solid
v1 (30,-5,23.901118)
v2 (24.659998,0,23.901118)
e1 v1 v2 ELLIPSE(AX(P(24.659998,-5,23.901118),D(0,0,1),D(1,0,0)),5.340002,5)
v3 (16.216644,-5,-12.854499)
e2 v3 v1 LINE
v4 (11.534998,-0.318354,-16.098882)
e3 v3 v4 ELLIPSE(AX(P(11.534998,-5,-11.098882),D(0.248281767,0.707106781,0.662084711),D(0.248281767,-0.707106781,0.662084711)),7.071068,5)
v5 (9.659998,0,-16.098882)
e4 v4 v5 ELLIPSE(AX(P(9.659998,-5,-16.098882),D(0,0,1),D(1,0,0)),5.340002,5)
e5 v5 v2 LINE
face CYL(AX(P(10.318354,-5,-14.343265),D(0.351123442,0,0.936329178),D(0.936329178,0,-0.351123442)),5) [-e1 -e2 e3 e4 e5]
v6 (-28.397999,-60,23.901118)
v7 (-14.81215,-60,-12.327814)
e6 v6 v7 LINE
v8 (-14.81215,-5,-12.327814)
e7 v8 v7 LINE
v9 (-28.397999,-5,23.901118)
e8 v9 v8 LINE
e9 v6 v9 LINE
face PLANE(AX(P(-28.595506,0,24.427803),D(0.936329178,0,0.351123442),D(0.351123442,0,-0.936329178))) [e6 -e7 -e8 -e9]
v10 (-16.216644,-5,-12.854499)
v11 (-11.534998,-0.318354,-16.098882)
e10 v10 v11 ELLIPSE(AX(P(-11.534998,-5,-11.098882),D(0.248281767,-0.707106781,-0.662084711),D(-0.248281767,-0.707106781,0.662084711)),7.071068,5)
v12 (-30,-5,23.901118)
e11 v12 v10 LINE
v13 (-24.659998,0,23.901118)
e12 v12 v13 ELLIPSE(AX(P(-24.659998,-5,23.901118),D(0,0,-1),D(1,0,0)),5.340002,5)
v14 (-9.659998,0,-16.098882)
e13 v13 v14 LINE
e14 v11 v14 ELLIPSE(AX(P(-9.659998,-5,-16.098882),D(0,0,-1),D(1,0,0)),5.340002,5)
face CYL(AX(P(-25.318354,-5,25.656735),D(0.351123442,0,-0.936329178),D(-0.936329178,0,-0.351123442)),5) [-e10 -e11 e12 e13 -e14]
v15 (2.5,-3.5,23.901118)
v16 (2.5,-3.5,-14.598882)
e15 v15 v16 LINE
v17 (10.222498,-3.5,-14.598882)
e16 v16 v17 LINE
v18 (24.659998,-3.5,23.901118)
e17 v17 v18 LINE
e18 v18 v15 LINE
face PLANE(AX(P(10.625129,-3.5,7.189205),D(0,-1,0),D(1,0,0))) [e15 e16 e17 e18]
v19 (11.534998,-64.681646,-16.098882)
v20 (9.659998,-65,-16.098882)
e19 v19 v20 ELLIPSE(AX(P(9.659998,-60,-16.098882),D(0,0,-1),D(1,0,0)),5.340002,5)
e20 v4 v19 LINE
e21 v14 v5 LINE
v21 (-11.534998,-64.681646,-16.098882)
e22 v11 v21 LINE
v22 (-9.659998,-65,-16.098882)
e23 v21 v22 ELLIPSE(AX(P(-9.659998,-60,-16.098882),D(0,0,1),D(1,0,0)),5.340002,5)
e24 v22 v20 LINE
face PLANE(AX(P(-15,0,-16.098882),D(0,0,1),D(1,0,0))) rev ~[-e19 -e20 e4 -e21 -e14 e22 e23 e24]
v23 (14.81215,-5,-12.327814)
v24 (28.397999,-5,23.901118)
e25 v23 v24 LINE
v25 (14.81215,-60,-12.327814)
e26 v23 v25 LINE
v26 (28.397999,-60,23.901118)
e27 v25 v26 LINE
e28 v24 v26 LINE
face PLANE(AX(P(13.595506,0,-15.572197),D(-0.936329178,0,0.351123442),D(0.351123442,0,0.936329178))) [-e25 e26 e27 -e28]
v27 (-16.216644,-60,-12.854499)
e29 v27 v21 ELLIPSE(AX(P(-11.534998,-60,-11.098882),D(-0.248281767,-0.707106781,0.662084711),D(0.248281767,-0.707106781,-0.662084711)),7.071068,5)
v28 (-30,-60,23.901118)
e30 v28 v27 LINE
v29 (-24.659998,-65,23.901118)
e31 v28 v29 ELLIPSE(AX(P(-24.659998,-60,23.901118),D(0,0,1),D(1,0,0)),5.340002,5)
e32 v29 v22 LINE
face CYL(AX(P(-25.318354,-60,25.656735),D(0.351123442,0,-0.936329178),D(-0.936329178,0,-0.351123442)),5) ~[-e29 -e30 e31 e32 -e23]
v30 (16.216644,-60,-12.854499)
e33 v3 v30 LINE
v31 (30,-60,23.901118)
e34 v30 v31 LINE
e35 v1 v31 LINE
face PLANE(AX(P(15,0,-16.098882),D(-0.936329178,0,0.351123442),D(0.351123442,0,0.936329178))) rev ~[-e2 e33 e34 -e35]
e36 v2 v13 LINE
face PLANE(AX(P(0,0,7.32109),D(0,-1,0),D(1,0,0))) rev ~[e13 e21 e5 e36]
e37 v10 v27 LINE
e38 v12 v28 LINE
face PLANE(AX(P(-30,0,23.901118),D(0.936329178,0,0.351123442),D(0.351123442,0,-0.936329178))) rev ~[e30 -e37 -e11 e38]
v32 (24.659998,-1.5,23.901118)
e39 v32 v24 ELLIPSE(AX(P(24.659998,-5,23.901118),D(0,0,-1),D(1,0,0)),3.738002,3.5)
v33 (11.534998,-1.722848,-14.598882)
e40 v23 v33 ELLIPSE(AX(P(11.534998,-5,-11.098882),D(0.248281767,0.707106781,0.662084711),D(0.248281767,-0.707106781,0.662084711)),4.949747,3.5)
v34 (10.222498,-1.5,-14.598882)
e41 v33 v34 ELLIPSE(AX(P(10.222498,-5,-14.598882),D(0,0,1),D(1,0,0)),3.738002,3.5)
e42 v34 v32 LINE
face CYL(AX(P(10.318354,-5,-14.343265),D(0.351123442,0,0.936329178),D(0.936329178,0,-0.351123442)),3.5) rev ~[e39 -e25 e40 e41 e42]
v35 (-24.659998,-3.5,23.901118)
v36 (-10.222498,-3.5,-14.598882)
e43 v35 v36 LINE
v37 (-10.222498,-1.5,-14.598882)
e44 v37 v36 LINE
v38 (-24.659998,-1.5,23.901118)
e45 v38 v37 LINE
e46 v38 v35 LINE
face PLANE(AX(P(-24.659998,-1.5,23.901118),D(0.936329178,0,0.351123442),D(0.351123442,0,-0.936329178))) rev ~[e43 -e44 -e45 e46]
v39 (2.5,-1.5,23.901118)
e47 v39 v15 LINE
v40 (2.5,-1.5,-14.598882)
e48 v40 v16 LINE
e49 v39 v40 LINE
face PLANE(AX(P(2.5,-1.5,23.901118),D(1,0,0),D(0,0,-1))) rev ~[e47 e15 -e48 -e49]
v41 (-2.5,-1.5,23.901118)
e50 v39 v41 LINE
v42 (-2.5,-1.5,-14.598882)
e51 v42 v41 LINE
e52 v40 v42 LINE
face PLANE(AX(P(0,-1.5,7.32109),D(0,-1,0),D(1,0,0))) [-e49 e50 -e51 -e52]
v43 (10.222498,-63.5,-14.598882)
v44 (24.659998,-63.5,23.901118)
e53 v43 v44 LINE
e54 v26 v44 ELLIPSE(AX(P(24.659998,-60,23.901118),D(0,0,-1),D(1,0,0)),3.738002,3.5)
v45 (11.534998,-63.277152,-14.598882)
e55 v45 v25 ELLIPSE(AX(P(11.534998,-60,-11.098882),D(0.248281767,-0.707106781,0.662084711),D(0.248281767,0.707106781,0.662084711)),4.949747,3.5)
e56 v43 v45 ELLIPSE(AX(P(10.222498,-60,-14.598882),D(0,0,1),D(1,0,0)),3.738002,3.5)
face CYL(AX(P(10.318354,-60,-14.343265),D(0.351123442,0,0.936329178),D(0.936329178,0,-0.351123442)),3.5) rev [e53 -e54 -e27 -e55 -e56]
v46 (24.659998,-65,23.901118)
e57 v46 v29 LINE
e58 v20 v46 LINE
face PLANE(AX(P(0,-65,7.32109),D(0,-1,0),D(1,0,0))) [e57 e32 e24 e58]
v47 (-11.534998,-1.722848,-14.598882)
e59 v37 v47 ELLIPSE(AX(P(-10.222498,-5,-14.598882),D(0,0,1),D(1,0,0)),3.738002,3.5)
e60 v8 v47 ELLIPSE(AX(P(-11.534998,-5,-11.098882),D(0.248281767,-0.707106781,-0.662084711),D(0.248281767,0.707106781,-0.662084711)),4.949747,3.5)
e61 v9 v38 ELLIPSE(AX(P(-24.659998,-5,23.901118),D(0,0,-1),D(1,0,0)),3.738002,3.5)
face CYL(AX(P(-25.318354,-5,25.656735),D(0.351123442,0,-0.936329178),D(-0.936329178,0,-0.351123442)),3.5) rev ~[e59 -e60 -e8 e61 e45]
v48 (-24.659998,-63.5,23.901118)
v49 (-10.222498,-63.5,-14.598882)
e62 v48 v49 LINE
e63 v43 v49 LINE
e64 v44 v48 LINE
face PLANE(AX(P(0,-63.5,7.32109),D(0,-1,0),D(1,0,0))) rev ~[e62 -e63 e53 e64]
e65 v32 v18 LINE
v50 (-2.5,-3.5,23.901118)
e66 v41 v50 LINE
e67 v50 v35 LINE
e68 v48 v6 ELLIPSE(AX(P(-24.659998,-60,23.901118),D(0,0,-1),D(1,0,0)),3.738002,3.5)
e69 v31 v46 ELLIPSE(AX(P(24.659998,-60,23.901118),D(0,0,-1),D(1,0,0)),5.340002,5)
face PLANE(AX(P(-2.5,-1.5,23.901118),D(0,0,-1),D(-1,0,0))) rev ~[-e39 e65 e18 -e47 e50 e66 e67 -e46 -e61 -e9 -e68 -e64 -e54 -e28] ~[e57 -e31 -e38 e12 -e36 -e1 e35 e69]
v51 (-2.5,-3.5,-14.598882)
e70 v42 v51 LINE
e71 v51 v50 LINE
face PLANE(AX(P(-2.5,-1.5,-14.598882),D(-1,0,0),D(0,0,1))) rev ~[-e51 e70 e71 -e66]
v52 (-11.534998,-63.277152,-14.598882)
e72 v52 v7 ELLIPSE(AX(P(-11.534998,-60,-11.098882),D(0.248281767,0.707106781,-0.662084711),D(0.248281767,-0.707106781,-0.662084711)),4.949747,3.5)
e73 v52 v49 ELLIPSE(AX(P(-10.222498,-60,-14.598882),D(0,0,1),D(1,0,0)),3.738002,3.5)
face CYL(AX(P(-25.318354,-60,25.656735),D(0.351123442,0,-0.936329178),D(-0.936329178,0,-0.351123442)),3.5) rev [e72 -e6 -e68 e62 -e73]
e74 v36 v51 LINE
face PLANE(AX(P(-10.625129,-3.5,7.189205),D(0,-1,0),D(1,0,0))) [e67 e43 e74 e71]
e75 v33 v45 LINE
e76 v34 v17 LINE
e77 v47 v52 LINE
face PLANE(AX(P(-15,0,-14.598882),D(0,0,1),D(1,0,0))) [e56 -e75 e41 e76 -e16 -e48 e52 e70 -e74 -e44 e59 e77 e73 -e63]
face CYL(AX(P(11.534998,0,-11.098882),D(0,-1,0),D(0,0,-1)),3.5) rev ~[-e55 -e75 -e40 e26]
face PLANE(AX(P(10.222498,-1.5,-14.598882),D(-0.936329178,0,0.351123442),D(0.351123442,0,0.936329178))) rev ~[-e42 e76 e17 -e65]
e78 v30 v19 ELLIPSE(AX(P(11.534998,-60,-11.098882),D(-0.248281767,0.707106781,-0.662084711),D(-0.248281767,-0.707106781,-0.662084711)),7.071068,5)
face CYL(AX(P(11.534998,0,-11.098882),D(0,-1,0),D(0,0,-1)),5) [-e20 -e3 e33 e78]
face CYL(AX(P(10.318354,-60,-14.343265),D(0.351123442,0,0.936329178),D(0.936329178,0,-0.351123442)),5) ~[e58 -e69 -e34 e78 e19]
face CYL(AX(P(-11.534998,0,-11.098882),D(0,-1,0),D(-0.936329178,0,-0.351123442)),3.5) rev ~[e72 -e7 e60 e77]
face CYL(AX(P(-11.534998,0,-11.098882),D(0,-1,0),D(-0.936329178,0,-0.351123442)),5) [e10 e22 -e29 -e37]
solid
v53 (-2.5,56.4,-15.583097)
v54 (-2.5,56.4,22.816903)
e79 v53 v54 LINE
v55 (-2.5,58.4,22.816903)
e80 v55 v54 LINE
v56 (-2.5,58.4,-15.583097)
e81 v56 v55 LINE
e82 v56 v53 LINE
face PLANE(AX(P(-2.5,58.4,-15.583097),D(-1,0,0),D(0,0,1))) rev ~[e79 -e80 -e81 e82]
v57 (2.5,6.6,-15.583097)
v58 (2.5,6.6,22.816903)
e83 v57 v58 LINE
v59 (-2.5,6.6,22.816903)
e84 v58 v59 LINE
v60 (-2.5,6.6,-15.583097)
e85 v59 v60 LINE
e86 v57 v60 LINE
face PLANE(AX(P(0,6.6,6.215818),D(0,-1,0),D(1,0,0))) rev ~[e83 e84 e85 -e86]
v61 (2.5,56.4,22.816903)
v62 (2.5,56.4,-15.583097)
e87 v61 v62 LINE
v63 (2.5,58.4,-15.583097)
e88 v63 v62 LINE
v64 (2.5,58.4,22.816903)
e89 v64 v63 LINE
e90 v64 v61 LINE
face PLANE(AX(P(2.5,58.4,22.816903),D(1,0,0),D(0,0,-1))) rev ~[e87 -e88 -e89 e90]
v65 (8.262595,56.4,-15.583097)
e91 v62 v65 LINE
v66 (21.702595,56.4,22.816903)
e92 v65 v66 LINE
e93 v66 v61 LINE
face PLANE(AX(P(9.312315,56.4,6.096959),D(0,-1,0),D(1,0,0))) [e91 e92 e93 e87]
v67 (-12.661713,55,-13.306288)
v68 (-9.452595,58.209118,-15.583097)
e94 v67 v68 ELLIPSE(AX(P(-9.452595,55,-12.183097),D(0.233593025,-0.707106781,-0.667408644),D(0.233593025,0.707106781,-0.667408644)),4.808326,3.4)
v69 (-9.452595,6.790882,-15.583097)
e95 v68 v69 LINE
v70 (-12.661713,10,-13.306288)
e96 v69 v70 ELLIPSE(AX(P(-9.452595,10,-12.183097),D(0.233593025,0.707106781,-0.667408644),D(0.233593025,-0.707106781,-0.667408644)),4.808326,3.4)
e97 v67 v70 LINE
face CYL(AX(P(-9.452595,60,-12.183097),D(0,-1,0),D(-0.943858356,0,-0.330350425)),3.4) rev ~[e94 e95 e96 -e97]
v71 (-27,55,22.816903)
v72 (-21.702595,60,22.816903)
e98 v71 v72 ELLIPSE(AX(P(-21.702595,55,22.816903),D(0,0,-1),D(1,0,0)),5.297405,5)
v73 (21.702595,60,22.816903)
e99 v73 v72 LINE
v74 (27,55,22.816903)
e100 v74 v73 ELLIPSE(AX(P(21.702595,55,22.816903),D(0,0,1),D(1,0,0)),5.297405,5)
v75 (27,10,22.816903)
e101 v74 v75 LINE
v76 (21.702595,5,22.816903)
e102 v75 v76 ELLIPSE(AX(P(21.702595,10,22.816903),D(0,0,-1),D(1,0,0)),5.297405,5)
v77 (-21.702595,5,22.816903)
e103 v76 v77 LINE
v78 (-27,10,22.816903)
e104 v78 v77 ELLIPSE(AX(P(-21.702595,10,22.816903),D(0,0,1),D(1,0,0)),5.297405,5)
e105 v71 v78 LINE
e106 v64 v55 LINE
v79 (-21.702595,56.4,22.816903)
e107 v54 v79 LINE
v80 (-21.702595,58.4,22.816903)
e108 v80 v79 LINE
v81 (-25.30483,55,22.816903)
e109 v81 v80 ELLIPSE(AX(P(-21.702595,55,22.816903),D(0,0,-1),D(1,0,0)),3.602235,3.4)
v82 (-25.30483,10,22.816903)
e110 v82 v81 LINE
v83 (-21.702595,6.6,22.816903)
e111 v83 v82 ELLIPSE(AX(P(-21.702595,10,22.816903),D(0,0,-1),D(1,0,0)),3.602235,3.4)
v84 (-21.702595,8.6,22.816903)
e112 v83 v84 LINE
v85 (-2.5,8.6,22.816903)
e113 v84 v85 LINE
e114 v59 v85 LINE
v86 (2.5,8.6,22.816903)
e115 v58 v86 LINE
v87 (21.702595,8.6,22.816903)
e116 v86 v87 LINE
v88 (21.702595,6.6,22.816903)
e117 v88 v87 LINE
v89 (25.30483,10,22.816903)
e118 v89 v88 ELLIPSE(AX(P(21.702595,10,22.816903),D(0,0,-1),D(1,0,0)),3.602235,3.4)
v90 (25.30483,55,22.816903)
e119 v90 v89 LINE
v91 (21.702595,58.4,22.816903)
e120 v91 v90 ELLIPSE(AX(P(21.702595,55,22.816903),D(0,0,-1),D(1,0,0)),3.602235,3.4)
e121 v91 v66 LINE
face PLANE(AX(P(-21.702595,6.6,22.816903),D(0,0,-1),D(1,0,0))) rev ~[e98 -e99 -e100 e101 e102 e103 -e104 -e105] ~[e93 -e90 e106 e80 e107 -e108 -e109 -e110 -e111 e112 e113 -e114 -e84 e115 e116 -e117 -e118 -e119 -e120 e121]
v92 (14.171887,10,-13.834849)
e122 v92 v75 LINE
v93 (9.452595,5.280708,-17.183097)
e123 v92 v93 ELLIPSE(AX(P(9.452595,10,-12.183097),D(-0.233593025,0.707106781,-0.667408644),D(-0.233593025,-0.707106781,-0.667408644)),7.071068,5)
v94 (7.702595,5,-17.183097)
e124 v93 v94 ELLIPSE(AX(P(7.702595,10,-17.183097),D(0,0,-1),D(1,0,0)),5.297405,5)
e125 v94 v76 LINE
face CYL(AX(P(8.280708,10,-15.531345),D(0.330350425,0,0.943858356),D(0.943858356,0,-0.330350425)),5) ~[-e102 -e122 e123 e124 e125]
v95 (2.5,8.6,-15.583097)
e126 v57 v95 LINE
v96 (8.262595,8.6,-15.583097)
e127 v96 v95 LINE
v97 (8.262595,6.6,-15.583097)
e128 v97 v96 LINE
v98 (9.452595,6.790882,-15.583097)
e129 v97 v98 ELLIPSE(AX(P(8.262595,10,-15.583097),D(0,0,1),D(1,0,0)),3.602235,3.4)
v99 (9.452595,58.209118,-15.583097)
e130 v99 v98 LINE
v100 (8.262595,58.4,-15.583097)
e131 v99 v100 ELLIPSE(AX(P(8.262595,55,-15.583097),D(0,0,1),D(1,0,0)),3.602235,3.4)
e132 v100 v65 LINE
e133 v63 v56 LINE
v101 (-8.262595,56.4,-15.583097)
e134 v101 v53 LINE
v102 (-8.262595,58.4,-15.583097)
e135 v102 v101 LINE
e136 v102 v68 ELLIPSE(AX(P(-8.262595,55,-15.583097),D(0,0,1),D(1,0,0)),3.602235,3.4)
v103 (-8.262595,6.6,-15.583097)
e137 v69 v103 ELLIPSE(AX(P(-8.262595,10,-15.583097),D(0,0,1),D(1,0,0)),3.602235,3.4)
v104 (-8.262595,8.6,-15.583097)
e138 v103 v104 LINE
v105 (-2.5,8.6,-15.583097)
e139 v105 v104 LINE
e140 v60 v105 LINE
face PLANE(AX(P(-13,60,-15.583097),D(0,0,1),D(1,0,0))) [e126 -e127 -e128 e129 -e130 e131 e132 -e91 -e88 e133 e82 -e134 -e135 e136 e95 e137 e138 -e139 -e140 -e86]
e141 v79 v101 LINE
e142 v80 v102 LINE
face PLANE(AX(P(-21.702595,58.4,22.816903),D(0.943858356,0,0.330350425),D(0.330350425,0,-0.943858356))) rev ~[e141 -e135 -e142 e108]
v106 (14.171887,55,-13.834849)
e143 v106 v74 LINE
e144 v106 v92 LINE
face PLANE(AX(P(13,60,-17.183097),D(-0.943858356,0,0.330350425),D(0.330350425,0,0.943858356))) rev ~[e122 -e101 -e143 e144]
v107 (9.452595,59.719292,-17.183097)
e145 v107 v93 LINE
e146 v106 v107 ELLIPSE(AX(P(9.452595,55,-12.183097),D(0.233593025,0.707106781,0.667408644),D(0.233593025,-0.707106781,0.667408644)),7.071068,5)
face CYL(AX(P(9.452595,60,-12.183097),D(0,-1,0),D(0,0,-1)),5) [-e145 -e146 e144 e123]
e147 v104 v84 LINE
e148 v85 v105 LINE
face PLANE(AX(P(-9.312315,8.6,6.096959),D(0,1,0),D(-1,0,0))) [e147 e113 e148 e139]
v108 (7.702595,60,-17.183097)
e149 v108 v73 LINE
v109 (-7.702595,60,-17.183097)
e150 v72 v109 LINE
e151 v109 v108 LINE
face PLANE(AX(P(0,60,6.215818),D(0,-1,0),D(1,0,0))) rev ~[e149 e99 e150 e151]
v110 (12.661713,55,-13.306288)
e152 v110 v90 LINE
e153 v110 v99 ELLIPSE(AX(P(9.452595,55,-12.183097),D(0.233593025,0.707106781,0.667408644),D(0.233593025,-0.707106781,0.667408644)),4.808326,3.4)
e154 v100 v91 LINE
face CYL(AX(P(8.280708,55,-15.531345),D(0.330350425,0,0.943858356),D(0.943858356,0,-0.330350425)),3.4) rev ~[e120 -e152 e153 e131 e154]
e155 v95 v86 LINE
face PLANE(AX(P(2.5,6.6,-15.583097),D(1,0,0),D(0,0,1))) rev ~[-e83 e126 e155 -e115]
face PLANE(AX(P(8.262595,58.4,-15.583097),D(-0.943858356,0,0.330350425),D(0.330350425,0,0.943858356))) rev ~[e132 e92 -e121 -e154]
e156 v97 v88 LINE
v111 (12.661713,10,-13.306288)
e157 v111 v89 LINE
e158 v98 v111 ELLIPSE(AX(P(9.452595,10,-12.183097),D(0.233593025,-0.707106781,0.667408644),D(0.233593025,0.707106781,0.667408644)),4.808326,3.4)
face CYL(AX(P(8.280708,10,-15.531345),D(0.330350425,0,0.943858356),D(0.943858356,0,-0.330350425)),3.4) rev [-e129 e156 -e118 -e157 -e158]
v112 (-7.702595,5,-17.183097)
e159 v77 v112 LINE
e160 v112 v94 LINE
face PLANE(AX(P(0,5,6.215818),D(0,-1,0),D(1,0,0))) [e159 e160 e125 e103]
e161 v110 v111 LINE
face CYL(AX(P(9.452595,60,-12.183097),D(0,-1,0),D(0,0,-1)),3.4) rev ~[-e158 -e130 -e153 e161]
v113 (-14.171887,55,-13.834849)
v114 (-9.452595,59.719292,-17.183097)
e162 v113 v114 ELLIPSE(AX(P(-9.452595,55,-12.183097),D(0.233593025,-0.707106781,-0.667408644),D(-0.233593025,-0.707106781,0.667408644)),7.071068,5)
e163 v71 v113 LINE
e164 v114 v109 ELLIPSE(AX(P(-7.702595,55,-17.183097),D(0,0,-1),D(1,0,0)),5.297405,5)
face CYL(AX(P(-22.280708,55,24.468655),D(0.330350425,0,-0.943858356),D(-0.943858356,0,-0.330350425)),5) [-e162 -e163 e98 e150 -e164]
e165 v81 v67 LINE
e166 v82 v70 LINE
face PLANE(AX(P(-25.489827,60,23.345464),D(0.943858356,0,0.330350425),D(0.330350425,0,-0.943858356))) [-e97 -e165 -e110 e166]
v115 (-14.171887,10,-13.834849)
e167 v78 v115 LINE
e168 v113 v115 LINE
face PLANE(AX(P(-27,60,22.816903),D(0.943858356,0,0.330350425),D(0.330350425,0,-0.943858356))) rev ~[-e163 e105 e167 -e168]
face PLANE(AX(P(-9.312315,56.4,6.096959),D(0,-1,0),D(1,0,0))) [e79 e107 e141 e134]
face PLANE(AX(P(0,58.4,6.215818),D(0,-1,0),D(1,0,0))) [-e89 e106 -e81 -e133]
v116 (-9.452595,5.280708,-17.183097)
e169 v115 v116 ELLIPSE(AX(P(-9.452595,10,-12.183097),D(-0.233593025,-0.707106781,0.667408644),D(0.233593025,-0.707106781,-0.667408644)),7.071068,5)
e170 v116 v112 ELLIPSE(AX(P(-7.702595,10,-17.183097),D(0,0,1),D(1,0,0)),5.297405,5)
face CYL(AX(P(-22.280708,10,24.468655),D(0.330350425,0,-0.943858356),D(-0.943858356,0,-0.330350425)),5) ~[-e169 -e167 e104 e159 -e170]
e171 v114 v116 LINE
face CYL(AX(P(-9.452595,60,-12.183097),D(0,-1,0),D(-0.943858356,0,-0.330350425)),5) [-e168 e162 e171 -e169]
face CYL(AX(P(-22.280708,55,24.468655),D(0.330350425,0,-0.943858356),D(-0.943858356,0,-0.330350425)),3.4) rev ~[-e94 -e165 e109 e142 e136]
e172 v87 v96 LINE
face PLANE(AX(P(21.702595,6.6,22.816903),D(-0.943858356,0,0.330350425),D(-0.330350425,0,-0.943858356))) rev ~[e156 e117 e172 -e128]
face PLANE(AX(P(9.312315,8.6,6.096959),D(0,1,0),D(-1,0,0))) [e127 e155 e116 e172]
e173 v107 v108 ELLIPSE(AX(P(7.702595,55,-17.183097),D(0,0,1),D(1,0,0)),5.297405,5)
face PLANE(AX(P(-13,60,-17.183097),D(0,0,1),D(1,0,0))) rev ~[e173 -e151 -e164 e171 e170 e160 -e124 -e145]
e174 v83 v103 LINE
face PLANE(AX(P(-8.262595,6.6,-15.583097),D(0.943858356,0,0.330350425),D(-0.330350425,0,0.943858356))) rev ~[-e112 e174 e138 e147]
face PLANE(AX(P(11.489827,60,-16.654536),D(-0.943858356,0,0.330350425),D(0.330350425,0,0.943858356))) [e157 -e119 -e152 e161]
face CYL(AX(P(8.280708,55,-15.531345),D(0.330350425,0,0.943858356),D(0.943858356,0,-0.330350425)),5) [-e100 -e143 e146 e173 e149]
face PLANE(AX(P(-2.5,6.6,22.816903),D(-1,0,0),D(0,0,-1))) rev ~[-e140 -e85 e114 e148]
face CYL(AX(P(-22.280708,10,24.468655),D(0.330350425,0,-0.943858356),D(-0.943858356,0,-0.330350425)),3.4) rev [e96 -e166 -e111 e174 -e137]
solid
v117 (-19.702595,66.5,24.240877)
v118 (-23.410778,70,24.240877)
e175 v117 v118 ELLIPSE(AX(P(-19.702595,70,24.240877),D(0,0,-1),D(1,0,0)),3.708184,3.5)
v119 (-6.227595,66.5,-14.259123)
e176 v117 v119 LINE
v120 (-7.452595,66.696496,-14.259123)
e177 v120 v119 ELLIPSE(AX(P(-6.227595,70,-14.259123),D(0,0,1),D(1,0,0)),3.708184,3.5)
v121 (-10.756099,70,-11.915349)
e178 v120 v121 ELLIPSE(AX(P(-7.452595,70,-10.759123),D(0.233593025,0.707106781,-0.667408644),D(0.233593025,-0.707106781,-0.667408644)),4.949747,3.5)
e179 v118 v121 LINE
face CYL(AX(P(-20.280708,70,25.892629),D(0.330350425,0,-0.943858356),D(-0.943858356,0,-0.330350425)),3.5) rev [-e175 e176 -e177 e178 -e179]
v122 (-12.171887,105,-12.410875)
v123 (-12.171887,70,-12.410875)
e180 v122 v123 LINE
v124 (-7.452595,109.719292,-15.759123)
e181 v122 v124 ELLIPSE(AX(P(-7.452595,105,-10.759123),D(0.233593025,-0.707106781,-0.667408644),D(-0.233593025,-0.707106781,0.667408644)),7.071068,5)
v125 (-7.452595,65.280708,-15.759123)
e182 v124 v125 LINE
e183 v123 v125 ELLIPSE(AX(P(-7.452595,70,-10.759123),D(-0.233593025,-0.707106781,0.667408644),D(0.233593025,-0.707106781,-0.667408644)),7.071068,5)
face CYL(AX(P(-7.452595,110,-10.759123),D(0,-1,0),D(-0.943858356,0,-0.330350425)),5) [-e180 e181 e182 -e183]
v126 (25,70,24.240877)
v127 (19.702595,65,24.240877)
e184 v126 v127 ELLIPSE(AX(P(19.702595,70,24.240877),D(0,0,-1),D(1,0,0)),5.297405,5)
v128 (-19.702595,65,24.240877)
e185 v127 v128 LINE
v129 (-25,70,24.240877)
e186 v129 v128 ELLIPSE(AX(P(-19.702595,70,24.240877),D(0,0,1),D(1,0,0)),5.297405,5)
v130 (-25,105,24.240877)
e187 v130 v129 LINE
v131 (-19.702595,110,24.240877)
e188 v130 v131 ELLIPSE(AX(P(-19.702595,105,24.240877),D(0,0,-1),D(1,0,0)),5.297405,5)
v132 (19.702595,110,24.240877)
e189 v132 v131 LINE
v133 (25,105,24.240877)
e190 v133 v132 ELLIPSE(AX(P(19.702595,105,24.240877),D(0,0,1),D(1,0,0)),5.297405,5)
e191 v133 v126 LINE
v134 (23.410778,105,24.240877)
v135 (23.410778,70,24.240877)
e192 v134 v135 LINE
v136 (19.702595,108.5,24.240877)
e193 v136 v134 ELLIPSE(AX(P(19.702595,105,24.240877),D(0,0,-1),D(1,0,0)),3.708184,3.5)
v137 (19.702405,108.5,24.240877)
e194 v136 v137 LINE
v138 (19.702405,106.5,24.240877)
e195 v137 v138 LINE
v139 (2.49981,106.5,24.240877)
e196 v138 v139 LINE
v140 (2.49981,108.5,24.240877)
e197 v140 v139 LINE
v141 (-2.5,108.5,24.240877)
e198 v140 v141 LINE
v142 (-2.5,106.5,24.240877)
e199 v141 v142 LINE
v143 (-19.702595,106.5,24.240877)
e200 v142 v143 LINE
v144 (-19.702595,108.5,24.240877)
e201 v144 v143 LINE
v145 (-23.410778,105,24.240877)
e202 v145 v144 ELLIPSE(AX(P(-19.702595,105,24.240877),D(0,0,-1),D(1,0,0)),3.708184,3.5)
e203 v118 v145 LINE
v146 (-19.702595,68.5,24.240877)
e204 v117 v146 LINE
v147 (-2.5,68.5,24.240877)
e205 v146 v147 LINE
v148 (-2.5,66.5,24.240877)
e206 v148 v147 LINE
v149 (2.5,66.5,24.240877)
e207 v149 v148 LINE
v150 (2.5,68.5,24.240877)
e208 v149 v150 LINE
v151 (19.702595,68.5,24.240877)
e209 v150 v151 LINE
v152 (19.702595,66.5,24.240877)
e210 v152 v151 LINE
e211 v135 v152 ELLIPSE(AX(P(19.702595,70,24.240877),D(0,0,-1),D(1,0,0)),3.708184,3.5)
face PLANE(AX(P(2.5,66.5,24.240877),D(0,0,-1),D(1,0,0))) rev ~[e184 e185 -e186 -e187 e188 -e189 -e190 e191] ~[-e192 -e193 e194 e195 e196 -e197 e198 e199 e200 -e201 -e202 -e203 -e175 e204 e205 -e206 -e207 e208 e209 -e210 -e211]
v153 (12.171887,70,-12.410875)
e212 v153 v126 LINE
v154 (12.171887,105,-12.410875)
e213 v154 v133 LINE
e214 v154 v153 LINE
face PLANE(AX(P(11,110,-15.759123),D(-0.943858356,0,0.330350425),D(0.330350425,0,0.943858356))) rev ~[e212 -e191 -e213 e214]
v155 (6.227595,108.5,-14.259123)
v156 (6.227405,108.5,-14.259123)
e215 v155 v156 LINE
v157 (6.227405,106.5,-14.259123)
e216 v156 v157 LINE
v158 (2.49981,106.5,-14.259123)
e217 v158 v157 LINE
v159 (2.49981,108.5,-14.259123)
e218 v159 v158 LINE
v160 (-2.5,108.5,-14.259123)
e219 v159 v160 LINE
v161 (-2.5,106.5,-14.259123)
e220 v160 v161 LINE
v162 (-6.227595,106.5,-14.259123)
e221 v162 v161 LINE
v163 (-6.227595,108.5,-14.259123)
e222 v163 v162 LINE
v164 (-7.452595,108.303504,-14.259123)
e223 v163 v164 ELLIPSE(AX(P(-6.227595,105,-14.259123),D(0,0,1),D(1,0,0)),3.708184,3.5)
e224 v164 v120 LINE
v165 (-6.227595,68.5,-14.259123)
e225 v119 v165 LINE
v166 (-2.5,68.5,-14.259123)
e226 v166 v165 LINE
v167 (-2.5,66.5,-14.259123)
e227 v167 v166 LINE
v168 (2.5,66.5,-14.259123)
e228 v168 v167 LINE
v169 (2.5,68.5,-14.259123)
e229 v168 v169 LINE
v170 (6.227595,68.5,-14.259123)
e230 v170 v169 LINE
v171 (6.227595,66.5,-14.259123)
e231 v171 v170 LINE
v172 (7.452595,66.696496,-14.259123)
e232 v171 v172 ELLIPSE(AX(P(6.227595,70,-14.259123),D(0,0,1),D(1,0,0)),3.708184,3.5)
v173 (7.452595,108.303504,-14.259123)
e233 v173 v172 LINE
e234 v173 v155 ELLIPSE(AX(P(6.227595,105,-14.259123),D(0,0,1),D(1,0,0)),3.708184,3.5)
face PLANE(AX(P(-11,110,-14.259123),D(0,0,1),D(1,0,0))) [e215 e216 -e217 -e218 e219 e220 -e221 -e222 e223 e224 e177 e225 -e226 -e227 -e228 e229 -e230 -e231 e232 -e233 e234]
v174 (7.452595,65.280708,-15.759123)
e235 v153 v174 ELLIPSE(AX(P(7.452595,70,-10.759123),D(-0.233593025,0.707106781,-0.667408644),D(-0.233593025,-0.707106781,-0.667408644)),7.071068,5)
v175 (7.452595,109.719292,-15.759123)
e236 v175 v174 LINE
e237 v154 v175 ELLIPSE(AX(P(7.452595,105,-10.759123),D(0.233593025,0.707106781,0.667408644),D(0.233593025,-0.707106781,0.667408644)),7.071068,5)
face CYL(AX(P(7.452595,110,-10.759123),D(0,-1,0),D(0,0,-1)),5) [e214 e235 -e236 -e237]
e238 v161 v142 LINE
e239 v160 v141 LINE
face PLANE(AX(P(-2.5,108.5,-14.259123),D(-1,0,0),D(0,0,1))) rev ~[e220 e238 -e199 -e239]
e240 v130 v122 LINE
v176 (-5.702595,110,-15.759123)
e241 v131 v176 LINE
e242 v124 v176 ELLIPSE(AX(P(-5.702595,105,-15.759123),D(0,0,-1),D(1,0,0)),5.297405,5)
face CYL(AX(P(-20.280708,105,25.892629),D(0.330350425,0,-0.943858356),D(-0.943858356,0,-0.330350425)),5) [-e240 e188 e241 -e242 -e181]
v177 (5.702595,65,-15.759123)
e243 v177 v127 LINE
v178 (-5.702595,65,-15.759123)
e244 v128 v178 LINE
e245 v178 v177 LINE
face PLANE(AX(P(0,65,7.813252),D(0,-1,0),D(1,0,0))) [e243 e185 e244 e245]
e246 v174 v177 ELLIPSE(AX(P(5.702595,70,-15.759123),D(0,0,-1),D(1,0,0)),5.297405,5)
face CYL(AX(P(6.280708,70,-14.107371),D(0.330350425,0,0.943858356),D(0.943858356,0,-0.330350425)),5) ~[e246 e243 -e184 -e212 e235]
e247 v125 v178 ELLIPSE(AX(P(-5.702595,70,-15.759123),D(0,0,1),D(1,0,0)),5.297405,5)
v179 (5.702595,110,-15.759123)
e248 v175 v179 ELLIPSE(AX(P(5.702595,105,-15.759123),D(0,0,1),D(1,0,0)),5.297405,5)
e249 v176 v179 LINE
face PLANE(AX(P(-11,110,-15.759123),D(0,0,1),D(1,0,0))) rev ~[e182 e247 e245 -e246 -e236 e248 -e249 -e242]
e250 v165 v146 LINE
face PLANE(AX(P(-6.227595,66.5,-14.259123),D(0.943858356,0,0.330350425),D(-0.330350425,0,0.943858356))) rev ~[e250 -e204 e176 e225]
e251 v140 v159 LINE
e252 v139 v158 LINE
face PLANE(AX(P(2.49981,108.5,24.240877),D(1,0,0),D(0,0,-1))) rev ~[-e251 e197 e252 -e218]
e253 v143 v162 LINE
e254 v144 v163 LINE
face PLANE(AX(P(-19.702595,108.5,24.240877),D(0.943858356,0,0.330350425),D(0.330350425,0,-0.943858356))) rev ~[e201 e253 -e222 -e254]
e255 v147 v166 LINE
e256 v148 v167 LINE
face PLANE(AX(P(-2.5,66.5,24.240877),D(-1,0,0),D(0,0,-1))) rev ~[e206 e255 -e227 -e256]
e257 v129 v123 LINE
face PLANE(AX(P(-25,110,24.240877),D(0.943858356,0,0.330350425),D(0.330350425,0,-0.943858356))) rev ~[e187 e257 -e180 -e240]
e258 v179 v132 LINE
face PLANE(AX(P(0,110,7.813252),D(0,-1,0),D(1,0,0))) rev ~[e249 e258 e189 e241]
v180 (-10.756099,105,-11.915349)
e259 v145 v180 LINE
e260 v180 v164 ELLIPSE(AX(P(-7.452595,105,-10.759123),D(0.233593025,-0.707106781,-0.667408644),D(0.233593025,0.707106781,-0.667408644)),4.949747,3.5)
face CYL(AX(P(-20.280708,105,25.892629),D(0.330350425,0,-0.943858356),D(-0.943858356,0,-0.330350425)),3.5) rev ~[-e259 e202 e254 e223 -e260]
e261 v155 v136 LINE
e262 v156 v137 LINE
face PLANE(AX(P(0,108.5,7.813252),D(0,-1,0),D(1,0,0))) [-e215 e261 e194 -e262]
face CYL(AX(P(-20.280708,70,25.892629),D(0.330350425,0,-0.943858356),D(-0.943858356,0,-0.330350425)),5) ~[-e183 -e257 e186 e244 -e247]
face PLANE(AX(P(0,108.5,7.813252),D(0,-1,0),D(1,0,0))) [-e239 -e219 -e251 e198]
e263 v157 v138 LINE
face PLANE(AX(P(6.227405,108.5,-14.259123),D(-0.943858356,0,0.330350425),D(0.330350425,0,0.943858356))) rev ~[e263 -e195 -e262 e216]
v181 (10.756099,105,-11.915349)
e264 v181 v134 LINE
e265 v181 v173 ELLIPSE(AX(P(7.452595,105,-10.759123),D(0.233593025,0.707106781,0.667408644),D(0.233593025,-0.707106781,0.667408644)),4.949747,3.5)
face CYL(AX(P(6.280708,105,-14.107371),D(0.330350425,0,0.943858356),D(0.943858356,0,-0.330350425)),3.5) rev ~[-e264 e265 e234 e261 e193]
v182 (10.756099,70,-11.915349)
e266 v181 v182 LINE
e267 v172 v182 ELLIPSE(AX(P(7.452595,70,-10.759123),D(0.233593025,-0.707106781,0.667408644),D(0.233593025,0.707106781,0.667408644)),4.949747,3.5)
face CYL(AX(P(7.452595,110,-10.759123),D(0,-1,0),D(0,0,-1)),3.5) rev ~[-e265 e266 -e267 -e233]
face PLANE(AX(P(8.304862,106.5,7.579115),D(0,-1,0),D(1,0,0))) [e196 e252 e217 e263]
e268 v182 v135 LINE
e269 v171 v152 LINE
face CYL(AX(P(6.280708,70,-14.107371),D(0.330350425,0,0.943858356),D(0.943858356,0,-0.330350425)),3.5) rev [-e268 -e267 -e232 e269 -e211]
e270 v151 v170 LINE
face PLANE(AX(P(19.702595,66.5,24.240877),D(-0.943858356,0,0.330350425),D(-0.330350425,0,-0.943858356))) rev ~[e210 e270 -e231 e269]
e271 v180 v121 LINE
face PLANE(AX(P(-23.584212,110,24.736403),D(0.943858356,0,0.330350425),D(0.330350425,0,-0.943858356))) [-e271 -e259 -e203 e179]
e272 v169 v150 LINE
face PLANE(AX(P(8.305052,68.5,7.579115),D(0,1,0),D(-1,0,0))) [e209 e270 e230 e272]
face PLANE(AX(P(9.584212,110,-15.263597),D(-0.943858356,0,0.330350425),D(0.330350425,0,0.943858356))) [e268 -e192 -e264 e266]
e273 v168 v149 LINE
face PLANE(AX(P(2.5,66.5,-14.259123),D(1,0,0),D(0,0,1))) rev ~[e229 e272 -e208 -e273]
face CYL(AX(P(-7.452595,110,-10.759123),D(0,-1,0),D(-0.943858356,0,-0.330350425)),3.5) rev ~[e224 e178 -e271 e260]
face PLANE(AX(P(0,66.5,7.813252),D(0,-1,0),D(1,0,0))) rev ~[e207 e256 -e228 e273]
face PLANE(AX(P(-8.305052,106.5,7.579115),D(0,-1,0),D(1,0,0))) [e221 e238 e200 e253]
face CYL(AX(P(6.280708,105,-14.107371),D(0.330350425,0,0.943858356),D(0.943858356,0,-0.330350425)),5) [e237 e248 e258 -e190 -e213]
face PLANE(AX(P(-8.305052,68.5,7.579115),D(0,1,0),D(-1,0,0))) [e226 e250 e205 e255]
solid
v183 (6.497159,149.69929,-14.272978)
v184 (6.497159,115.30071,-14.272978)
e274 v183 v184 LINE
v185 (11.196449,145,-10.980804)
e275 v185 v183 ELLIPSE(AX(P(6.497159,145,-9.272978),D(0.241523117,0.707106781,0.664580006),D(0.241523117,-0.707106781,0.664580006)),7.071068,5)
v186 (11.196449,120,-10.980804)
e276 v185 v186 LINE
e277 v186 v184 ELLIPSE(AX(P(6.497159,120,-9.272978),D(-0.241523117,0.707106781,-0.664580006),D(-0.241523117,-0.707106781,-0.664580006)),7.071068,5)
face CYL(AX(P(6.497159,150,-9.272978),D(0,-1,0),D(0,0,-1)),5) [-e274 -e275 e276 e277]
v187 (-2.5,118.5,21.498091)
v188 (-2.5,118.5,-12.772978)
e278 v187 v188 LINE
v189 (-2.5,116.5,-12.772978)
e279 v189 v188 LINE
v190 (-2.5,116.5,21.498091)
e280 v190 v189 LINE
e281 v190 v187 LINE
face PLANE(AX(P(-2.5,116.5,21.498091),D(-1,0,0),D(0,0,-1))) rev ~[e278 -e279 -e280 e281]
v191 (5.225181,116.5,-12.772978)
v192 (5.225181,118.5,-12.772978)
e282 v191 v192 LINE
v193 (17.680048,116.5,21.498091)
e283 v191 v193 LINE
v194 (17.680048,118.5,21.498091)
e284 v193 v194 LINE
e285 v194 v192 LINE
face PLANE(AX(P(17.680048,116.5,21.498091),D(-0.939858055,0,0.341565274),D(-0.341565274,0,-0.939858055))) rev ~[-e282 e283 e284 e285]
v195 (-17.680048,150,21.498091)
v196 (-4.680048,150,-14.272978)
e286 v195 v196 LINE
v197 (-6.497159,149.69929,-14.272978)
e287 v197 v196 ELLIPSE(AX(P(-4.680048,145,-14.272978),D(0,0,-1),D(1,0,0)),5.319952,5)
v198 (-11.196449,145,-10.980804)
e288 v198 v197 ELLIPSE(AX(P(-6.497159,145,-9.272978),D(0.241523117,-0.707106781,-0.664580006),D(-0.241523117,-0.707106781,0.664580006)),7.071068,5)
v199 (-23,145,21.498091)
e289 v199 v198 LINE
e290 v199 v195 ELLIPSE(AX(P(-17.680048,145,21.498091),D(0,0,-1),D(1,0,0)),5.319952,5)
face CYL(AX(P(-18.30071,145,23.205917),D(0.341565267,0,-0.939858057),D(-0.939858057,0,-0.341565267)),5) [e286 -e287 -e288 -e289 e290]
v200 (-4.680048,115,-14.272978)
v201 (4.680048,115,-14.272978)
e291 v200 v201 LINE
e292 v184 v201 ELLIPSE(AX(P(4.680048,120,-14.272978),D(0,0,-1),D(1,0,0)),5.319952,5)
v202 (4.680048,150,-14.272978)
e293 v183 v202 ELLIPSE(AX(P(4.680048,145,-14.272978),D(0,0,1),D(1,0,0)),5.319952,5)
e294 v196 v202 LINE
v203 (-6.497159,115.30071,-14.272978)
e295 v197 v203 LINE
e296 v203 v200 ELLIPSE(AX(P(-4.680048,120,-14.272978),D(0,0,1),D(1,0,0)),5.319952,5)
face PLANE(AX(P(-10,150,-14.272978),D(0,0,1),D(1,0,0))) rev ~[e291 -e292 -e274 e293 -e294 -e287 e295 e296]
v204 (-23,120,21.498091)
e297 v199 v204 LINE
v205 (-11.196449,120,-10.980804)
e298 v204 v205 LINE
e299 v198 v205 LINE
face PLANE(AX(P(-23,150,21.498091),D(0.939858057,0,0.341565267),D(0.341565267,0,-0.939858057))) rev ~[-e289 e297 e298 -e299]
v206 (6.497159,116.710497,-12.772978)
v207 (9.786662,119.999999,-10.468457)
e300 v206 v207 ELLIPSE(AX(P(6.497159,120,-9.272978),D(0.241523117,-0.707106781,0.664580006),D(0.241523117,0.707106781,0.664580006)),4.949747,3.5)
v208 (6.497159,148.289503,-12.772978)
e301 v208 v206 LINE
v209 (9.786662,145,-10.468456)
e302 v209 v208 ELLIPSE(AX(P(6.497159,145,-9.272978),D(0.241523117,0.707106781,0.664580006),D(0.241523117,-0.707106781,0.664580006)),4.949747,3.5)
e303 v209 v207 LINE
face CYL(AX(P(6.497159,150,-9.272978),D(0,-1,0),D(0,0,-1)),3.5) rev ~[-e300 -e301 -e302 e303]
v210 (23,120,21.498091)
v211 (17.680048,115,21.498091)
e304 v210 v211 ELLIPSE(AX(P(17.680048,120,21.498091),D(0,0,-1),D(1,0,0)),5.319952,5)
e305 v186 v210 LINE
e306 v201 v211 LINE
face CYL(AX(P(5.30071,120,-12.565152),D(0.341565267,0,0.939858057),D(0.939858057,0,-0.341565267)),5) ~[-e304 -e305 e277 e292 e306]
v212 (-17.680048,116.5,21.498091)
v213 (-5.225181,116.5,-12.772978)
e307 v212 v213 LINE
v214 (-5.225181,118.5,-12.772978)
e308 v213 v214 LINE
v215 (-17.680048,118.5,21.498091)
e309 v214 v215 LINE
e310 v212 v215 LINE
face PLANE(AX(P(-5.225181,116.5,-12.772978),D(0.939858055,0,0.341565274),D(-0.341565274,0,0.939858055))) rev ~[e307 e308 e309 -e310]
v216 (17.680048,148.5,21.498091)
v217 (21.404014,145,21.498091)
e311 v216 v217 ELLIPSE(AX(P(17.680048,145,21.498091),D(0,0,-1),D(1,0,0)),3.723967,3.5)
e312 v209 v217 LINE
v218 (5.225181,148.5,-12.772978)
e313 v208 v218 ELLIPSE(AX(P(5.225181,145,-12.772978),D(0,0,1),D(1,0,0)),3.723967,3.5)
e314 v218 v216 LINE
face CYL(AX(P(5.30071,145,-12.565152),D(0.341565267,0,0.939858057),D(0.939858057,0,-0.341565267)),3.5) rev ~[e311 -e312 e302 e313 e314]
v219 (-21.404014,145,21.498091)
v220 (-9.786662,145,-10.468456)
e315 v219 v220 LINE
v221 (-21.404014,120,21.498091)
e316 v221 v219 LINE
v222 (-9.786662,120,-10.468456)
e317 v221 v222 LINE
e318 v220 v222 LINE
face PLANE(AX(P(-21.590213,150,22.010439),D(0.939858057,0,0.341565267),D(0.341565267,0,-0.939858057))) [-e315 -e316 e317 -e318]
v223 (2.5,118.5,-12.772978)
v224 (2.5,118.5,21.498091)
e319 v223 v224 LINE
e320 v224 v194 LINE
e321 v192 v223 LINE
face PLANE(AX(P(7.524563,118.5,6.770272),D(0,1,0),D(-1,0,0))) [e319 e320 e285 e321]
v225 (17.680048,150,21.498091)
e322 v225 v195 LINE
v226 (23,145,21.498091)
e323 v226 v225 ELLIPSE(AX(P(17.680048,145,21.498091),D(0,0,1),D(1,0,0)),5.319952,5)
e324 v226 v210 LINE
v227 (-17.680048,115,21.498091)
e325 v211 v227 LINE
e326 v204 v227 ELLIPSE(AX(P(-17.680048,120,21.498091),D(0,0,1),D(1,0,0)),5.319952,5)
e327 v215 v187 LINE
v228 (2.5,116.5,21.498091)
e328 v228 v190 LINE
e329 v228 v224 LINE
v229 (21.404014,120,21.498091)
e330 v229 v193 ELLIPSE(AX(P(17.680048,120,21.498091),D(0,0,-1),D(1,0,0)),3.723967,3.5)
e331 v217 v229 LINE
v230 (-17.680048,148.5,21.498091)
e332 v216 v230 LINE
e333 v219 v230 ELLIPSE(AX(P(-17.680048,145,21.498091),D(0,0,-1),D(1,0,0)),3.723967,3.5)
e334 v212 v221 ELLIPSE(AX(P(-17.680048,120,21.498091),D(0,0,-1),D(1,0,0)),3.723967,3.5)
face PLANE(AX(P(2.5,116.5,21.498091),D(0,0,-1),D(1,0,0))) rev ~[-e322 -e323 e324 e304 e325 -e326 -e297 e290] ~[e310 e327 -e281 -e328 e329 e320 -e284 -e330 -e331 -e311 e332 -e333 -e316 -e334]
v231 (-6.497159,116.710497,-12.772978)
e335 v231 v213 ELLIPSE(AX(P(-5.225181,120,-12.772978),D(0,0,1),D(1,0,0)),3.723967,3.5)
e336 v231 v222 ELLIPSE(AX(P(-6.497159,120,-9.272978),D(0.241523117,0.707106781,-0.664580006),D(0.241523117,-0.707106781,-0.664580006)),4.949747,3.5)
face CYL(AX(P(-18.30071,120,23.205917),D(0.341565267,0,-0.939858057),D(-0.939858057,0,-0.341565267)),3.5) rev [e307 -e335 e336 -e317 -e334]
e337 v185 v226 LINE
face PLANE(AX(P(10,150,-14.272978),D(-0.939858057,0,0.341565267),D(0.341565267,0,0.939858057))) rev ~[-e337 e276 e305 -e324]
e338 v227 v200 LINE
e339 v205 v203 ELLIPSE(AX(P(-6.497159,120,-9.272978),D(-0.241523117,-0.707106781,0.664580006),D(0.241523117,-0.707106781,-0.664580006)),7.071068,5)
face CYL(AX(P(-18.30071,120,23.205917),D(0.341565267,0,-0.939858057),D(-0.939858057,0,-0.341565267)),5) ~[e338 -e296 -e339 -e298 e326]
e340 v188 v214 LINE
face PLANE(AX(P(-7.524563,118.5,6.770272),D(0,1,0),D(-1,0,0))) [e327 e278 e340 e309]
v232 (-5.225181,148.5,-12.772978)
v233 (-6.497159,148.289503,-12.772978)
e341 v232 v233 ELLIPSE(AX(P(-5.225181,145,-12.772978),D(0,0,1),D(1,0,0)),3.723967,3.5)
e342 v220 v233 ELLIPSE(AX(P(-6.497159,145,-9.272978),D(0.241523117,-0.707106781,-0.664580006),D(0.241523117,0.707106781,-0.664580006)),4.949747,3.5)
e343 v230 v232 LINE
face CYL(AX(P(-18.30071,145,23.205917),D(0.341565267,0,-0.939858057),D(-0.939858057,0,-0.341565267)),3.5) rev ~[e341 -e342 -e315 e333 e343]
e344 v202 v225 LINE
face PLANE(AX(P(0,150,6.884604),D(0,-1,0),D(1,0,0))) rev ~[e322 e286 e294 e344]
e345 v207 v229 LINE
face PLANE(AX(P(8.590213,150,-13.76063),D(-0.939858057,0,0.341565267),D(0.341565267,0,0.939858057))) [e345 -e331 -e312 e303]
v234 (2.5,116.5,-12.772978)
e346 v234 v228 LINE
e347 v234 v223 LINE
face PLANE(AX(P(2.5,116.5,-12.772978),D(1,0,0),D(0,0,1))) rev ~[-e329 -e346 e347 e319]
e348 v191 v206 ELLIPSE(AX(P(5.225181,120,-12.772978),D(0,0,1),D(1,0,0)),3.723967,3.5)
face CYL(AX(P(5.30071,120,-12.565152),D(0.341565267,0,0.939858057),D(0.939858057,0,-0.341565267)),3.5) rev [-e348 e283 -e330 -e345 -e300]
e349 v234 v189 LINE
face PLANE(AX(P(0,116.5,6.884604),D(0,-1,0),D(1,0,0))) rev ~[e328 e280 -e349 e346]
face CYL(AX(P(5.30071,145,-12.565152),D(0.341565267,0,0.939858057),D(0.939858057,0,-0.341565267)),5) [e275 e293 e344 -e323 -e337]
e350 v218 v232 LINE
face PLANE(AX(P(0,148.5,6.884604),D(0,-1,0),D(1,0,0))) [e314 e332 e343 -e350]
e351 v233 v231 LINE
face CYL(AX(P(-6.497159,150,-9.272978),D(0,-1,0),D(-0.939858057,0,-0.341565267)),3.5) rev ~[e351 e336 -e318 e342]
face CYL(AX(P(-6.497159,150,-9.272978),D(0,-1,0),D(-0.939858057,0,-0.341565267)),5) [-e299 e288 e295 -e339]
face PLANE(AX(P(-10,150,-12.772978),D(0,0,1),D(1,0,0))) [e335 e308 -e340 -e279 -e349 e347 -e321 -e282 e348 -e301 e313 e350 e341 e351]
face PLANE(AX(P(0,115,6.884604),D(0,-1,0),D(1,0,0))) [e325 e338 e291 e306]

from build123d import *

# Parameters (mm, degrees)
F1_DEPTH  = 65
F2_R      = 5
F5_DEPTH  = 55
F6_R      = 5
F9_DEPTH  = 45
F10_R     = 5
F13_DEPTH = 35
F14_R     = 5
F15_T     = -1.6
F16_T     = -1.5
F17_T     = -1.5
F18_T     = -1.5
F20_DEPTH = 2
F22_DEPTH = 2
F24_DEPTH = 2
F26_DEPTH = 2
F28_DEPTH = 2
F30_DEPTH = 2


with BuildPart() as f1:
    # F0 (on Front) → F1 (new body)
    with BuildSketch(Plane.XZ):
        Polygon((30, 23.901118), (0, 23.901118), (-30, 23.901118), (-15, -16.098882), (0, -16.098882), (15, -16.098882), align=None)
    extrude(amount=F1_DEPTH)

    # F2
    f2_edges = [f1.edges().sort_by_distance(p)[0] for p in [
        (-15, -32.5, -16.098882),
        (15, -32.5, -16.098882),
        (-22.5, -65, 3.901118),
        (22.5, -65, 3.901118),
        (22.5, 0, 3.901118),
        (-22.5, 0, 3.901118),
    ]]
    fillet(f2_edges, radius=F2_R)

    # F17
    f17_openings = [f1.faces().sort_by_distance(p)[0] for p in [
        (0, -32.5, 23.901118),
    ]]
    offset(amount=F17_T, openings=f17_openings)

    # F29 (on face) → F30 (join)
    with BuildSketch(Plane.XZ.offset(1.5)):
        Polygon((-2.5, -14.598882), (-2.5, 23.901118), (-24.659998, 23.901118), (-10.222498, -14.598882), align=None)
        Polygon((24.659998, 23.901118), (2.5, 23.901118), (2.5, -14.598882), (10.222498, -14.598882), align=None)
    extrude(amount=F30_DEPTH)


with BuildPart() as f5:
    # F4 (on offset) → F5 (new body)
    with BuildSketch(Plane.XZ.offset(-60)):
        Polygon((27, 22.816903), (0, 22.816903), (-27, 22.816903), (-13, -17.183097), (0, -17.183097), (13, -17.183097), align=None)
    extrude(amount=F5_DEPTH)

    # F6
    f6_edges = [f5.edges().sort_by_distance(p)[0] for p in [
        (20, 60, 2.816903),
        (-20, 60, 2.816903),
        (13, 32.5, -17.183097),
        (-13, 32.5, -17.183097),
        (-20, 5, 2.816903),
        (20, 5, 2.816903),
    ]]
    fillet(f6_edges, radius=F6_R)

    # F15
    f15_openings = [f5.faces().sort_by_distance(p)[0] for p in [
        (0, 32.5, 22.816903),
    ]]
    offset(amount=F15_T, openings=f15_openings)

    # F25 (on face) → F26 (join)
    with BuildSketch(Plane.XZ.offset(-58.4)):
        Polygon((-2.5, -15.583097), (-2.5, 22.816903), (-21.702595, 22.816903), (-8.262595, -15.583097), align=None)
        Polygon((21.702595, 22.816903), (2.5, 22.816903), (2.5, -15.583097), (8.262595, -15.583097), align=None)
    extrude(amount=F26_DEPTH)

    # F27 (on face) → F28 (join)
    with BuildSketch(Plane(origin=(0, 6.6, 0), x_dir=(-1, 0, 0), z_dir=(0, 1, 0))):
        Polygon((2.5, 22.816903), (2.5, -15.583097), (8.262595, -15.583097), (21.702595, 22.816903), align=None)
        Polygon((-8.262595, -15.583097), (-2.5, -15.583097), (-2.5, 22.816903), (-21.702595, 22.816903), align=None)
    extrude(amount=F28_DEPTH)


with BuildPart() as f9:
    # F8 (on offset) → F9 (new body)
    with BuildSketch(Plane.XZ.offset(-110)):
        Polygon((25, 24.240877), (0, 24.240877), (-25, 24.240877), (-11, -15.759123), (0, -15.759123), (11, -15.759123), align=None)
    extrude(amount=F9_DEPTH)

    # F10
    f10_edges = [f9.edges().sort_by_distance(p)[0] for p in [
        (18, 110, 4.240877),
        (-18, 110, 4.240877),
        (11, 87.5, -15.759123),
        (-11, 87.5, -15.759123),
        (18, 65, 4.240877),
        (-18, 65, 4.240877),
    ]]
    fillet(f10_edges, radius=F10_R)

    # F18
    f18_openings = [f9.faces().sort_by_distance(p)[0] for p in [
        (0, 87.5, 24.240877),
    ]]
    offset(amount=F18_T, openings=f18_openings)

    # F19 (on face) → F20 (join)
    with BuildSketch(Plane.XZ.offset(-108.5)):
        Polygon((2.49981, 24.240877), (2.49981, -14.259123), (6.227405, -14.259123), (19.702405, 24.240877), align=None)
        Polygon((-6.227595, -14.259123), (-2.5, -14.259123), (-2.5, 24.240877), (-19.702595, 24.240877), align=None)
    extrude(amount=F20_DEPTH)

    # F21 (on face) → F22 (join)
    with BuildSketch(Plane(origin=(0, 66.5, 0), x_dir=(-1, 0, 0), z_dir=(0, 1, 0))):
        Polygon((-6.227595, -14.259123), (-2.5, -14.259123), (-2.5, 24.240877), (-19.702595, 24.240877), align=None)
        Polygon((2.5, -14.259123), (6.227595, -14.259123), (19.702595, 24.240877), (2.5, 24.240877), align=None)
    extrude(amount=F22_DEPTH)


with BuildPart() as f13:
    # F12 (on offset) → F13 (new body)
    with BuildSketch(Plane.XZ.offset(-150)):
        Polygon((23, 21.498091), (0, 21.498091), (-23, 21.498091), (-10, -14.272978), (0, -14.272978), (10, -14.272978), align=None)
    extrude(amount=F13_DEPTH)

    # F14
    f14_edges = [f13.edges().sort_by_distance(p)[0] for p in [
        (16.5, 150, 3.612557),
        (-16.5, 150, 3.612557),
        (10, 132.5, -14.272978),
        (-10, 132.5, -14.272978),
        (16.5, 115, 3.612557),
        (-16.5, 115, 3.612557),
    ]]
    fillet(f14_edges, radius=F14_R)

    # F16
    f16_openings = [f13.faces().sort_by_distance(p)[0] for p in [
        (0, 132.5, 21.498091),
    ]]
    offset(amount=F16_T, openings=f16_openings)

    # F23 (on face) → F24 (join)
    with BuildSketch(Plane(origin=(0, 116.5, 0), x_dir=(-1, 0, 0), z_dir=(0, 1, 0))):
        Polygon((-5.225181, -12.772978), (-2.5, -12.772978), (-2.5, 21.498091), (-17.680048, 21.498091), align=None)
        Polygon((2.5, 21.498091), (2.5, -12.772978), (5.225181, -12.772978), (17.680048, 21.498091), align=None)
    extrude(amount=F24_DEPTH)


solid = Compound([f1.part, f5.part, f9.part, f13.part])
